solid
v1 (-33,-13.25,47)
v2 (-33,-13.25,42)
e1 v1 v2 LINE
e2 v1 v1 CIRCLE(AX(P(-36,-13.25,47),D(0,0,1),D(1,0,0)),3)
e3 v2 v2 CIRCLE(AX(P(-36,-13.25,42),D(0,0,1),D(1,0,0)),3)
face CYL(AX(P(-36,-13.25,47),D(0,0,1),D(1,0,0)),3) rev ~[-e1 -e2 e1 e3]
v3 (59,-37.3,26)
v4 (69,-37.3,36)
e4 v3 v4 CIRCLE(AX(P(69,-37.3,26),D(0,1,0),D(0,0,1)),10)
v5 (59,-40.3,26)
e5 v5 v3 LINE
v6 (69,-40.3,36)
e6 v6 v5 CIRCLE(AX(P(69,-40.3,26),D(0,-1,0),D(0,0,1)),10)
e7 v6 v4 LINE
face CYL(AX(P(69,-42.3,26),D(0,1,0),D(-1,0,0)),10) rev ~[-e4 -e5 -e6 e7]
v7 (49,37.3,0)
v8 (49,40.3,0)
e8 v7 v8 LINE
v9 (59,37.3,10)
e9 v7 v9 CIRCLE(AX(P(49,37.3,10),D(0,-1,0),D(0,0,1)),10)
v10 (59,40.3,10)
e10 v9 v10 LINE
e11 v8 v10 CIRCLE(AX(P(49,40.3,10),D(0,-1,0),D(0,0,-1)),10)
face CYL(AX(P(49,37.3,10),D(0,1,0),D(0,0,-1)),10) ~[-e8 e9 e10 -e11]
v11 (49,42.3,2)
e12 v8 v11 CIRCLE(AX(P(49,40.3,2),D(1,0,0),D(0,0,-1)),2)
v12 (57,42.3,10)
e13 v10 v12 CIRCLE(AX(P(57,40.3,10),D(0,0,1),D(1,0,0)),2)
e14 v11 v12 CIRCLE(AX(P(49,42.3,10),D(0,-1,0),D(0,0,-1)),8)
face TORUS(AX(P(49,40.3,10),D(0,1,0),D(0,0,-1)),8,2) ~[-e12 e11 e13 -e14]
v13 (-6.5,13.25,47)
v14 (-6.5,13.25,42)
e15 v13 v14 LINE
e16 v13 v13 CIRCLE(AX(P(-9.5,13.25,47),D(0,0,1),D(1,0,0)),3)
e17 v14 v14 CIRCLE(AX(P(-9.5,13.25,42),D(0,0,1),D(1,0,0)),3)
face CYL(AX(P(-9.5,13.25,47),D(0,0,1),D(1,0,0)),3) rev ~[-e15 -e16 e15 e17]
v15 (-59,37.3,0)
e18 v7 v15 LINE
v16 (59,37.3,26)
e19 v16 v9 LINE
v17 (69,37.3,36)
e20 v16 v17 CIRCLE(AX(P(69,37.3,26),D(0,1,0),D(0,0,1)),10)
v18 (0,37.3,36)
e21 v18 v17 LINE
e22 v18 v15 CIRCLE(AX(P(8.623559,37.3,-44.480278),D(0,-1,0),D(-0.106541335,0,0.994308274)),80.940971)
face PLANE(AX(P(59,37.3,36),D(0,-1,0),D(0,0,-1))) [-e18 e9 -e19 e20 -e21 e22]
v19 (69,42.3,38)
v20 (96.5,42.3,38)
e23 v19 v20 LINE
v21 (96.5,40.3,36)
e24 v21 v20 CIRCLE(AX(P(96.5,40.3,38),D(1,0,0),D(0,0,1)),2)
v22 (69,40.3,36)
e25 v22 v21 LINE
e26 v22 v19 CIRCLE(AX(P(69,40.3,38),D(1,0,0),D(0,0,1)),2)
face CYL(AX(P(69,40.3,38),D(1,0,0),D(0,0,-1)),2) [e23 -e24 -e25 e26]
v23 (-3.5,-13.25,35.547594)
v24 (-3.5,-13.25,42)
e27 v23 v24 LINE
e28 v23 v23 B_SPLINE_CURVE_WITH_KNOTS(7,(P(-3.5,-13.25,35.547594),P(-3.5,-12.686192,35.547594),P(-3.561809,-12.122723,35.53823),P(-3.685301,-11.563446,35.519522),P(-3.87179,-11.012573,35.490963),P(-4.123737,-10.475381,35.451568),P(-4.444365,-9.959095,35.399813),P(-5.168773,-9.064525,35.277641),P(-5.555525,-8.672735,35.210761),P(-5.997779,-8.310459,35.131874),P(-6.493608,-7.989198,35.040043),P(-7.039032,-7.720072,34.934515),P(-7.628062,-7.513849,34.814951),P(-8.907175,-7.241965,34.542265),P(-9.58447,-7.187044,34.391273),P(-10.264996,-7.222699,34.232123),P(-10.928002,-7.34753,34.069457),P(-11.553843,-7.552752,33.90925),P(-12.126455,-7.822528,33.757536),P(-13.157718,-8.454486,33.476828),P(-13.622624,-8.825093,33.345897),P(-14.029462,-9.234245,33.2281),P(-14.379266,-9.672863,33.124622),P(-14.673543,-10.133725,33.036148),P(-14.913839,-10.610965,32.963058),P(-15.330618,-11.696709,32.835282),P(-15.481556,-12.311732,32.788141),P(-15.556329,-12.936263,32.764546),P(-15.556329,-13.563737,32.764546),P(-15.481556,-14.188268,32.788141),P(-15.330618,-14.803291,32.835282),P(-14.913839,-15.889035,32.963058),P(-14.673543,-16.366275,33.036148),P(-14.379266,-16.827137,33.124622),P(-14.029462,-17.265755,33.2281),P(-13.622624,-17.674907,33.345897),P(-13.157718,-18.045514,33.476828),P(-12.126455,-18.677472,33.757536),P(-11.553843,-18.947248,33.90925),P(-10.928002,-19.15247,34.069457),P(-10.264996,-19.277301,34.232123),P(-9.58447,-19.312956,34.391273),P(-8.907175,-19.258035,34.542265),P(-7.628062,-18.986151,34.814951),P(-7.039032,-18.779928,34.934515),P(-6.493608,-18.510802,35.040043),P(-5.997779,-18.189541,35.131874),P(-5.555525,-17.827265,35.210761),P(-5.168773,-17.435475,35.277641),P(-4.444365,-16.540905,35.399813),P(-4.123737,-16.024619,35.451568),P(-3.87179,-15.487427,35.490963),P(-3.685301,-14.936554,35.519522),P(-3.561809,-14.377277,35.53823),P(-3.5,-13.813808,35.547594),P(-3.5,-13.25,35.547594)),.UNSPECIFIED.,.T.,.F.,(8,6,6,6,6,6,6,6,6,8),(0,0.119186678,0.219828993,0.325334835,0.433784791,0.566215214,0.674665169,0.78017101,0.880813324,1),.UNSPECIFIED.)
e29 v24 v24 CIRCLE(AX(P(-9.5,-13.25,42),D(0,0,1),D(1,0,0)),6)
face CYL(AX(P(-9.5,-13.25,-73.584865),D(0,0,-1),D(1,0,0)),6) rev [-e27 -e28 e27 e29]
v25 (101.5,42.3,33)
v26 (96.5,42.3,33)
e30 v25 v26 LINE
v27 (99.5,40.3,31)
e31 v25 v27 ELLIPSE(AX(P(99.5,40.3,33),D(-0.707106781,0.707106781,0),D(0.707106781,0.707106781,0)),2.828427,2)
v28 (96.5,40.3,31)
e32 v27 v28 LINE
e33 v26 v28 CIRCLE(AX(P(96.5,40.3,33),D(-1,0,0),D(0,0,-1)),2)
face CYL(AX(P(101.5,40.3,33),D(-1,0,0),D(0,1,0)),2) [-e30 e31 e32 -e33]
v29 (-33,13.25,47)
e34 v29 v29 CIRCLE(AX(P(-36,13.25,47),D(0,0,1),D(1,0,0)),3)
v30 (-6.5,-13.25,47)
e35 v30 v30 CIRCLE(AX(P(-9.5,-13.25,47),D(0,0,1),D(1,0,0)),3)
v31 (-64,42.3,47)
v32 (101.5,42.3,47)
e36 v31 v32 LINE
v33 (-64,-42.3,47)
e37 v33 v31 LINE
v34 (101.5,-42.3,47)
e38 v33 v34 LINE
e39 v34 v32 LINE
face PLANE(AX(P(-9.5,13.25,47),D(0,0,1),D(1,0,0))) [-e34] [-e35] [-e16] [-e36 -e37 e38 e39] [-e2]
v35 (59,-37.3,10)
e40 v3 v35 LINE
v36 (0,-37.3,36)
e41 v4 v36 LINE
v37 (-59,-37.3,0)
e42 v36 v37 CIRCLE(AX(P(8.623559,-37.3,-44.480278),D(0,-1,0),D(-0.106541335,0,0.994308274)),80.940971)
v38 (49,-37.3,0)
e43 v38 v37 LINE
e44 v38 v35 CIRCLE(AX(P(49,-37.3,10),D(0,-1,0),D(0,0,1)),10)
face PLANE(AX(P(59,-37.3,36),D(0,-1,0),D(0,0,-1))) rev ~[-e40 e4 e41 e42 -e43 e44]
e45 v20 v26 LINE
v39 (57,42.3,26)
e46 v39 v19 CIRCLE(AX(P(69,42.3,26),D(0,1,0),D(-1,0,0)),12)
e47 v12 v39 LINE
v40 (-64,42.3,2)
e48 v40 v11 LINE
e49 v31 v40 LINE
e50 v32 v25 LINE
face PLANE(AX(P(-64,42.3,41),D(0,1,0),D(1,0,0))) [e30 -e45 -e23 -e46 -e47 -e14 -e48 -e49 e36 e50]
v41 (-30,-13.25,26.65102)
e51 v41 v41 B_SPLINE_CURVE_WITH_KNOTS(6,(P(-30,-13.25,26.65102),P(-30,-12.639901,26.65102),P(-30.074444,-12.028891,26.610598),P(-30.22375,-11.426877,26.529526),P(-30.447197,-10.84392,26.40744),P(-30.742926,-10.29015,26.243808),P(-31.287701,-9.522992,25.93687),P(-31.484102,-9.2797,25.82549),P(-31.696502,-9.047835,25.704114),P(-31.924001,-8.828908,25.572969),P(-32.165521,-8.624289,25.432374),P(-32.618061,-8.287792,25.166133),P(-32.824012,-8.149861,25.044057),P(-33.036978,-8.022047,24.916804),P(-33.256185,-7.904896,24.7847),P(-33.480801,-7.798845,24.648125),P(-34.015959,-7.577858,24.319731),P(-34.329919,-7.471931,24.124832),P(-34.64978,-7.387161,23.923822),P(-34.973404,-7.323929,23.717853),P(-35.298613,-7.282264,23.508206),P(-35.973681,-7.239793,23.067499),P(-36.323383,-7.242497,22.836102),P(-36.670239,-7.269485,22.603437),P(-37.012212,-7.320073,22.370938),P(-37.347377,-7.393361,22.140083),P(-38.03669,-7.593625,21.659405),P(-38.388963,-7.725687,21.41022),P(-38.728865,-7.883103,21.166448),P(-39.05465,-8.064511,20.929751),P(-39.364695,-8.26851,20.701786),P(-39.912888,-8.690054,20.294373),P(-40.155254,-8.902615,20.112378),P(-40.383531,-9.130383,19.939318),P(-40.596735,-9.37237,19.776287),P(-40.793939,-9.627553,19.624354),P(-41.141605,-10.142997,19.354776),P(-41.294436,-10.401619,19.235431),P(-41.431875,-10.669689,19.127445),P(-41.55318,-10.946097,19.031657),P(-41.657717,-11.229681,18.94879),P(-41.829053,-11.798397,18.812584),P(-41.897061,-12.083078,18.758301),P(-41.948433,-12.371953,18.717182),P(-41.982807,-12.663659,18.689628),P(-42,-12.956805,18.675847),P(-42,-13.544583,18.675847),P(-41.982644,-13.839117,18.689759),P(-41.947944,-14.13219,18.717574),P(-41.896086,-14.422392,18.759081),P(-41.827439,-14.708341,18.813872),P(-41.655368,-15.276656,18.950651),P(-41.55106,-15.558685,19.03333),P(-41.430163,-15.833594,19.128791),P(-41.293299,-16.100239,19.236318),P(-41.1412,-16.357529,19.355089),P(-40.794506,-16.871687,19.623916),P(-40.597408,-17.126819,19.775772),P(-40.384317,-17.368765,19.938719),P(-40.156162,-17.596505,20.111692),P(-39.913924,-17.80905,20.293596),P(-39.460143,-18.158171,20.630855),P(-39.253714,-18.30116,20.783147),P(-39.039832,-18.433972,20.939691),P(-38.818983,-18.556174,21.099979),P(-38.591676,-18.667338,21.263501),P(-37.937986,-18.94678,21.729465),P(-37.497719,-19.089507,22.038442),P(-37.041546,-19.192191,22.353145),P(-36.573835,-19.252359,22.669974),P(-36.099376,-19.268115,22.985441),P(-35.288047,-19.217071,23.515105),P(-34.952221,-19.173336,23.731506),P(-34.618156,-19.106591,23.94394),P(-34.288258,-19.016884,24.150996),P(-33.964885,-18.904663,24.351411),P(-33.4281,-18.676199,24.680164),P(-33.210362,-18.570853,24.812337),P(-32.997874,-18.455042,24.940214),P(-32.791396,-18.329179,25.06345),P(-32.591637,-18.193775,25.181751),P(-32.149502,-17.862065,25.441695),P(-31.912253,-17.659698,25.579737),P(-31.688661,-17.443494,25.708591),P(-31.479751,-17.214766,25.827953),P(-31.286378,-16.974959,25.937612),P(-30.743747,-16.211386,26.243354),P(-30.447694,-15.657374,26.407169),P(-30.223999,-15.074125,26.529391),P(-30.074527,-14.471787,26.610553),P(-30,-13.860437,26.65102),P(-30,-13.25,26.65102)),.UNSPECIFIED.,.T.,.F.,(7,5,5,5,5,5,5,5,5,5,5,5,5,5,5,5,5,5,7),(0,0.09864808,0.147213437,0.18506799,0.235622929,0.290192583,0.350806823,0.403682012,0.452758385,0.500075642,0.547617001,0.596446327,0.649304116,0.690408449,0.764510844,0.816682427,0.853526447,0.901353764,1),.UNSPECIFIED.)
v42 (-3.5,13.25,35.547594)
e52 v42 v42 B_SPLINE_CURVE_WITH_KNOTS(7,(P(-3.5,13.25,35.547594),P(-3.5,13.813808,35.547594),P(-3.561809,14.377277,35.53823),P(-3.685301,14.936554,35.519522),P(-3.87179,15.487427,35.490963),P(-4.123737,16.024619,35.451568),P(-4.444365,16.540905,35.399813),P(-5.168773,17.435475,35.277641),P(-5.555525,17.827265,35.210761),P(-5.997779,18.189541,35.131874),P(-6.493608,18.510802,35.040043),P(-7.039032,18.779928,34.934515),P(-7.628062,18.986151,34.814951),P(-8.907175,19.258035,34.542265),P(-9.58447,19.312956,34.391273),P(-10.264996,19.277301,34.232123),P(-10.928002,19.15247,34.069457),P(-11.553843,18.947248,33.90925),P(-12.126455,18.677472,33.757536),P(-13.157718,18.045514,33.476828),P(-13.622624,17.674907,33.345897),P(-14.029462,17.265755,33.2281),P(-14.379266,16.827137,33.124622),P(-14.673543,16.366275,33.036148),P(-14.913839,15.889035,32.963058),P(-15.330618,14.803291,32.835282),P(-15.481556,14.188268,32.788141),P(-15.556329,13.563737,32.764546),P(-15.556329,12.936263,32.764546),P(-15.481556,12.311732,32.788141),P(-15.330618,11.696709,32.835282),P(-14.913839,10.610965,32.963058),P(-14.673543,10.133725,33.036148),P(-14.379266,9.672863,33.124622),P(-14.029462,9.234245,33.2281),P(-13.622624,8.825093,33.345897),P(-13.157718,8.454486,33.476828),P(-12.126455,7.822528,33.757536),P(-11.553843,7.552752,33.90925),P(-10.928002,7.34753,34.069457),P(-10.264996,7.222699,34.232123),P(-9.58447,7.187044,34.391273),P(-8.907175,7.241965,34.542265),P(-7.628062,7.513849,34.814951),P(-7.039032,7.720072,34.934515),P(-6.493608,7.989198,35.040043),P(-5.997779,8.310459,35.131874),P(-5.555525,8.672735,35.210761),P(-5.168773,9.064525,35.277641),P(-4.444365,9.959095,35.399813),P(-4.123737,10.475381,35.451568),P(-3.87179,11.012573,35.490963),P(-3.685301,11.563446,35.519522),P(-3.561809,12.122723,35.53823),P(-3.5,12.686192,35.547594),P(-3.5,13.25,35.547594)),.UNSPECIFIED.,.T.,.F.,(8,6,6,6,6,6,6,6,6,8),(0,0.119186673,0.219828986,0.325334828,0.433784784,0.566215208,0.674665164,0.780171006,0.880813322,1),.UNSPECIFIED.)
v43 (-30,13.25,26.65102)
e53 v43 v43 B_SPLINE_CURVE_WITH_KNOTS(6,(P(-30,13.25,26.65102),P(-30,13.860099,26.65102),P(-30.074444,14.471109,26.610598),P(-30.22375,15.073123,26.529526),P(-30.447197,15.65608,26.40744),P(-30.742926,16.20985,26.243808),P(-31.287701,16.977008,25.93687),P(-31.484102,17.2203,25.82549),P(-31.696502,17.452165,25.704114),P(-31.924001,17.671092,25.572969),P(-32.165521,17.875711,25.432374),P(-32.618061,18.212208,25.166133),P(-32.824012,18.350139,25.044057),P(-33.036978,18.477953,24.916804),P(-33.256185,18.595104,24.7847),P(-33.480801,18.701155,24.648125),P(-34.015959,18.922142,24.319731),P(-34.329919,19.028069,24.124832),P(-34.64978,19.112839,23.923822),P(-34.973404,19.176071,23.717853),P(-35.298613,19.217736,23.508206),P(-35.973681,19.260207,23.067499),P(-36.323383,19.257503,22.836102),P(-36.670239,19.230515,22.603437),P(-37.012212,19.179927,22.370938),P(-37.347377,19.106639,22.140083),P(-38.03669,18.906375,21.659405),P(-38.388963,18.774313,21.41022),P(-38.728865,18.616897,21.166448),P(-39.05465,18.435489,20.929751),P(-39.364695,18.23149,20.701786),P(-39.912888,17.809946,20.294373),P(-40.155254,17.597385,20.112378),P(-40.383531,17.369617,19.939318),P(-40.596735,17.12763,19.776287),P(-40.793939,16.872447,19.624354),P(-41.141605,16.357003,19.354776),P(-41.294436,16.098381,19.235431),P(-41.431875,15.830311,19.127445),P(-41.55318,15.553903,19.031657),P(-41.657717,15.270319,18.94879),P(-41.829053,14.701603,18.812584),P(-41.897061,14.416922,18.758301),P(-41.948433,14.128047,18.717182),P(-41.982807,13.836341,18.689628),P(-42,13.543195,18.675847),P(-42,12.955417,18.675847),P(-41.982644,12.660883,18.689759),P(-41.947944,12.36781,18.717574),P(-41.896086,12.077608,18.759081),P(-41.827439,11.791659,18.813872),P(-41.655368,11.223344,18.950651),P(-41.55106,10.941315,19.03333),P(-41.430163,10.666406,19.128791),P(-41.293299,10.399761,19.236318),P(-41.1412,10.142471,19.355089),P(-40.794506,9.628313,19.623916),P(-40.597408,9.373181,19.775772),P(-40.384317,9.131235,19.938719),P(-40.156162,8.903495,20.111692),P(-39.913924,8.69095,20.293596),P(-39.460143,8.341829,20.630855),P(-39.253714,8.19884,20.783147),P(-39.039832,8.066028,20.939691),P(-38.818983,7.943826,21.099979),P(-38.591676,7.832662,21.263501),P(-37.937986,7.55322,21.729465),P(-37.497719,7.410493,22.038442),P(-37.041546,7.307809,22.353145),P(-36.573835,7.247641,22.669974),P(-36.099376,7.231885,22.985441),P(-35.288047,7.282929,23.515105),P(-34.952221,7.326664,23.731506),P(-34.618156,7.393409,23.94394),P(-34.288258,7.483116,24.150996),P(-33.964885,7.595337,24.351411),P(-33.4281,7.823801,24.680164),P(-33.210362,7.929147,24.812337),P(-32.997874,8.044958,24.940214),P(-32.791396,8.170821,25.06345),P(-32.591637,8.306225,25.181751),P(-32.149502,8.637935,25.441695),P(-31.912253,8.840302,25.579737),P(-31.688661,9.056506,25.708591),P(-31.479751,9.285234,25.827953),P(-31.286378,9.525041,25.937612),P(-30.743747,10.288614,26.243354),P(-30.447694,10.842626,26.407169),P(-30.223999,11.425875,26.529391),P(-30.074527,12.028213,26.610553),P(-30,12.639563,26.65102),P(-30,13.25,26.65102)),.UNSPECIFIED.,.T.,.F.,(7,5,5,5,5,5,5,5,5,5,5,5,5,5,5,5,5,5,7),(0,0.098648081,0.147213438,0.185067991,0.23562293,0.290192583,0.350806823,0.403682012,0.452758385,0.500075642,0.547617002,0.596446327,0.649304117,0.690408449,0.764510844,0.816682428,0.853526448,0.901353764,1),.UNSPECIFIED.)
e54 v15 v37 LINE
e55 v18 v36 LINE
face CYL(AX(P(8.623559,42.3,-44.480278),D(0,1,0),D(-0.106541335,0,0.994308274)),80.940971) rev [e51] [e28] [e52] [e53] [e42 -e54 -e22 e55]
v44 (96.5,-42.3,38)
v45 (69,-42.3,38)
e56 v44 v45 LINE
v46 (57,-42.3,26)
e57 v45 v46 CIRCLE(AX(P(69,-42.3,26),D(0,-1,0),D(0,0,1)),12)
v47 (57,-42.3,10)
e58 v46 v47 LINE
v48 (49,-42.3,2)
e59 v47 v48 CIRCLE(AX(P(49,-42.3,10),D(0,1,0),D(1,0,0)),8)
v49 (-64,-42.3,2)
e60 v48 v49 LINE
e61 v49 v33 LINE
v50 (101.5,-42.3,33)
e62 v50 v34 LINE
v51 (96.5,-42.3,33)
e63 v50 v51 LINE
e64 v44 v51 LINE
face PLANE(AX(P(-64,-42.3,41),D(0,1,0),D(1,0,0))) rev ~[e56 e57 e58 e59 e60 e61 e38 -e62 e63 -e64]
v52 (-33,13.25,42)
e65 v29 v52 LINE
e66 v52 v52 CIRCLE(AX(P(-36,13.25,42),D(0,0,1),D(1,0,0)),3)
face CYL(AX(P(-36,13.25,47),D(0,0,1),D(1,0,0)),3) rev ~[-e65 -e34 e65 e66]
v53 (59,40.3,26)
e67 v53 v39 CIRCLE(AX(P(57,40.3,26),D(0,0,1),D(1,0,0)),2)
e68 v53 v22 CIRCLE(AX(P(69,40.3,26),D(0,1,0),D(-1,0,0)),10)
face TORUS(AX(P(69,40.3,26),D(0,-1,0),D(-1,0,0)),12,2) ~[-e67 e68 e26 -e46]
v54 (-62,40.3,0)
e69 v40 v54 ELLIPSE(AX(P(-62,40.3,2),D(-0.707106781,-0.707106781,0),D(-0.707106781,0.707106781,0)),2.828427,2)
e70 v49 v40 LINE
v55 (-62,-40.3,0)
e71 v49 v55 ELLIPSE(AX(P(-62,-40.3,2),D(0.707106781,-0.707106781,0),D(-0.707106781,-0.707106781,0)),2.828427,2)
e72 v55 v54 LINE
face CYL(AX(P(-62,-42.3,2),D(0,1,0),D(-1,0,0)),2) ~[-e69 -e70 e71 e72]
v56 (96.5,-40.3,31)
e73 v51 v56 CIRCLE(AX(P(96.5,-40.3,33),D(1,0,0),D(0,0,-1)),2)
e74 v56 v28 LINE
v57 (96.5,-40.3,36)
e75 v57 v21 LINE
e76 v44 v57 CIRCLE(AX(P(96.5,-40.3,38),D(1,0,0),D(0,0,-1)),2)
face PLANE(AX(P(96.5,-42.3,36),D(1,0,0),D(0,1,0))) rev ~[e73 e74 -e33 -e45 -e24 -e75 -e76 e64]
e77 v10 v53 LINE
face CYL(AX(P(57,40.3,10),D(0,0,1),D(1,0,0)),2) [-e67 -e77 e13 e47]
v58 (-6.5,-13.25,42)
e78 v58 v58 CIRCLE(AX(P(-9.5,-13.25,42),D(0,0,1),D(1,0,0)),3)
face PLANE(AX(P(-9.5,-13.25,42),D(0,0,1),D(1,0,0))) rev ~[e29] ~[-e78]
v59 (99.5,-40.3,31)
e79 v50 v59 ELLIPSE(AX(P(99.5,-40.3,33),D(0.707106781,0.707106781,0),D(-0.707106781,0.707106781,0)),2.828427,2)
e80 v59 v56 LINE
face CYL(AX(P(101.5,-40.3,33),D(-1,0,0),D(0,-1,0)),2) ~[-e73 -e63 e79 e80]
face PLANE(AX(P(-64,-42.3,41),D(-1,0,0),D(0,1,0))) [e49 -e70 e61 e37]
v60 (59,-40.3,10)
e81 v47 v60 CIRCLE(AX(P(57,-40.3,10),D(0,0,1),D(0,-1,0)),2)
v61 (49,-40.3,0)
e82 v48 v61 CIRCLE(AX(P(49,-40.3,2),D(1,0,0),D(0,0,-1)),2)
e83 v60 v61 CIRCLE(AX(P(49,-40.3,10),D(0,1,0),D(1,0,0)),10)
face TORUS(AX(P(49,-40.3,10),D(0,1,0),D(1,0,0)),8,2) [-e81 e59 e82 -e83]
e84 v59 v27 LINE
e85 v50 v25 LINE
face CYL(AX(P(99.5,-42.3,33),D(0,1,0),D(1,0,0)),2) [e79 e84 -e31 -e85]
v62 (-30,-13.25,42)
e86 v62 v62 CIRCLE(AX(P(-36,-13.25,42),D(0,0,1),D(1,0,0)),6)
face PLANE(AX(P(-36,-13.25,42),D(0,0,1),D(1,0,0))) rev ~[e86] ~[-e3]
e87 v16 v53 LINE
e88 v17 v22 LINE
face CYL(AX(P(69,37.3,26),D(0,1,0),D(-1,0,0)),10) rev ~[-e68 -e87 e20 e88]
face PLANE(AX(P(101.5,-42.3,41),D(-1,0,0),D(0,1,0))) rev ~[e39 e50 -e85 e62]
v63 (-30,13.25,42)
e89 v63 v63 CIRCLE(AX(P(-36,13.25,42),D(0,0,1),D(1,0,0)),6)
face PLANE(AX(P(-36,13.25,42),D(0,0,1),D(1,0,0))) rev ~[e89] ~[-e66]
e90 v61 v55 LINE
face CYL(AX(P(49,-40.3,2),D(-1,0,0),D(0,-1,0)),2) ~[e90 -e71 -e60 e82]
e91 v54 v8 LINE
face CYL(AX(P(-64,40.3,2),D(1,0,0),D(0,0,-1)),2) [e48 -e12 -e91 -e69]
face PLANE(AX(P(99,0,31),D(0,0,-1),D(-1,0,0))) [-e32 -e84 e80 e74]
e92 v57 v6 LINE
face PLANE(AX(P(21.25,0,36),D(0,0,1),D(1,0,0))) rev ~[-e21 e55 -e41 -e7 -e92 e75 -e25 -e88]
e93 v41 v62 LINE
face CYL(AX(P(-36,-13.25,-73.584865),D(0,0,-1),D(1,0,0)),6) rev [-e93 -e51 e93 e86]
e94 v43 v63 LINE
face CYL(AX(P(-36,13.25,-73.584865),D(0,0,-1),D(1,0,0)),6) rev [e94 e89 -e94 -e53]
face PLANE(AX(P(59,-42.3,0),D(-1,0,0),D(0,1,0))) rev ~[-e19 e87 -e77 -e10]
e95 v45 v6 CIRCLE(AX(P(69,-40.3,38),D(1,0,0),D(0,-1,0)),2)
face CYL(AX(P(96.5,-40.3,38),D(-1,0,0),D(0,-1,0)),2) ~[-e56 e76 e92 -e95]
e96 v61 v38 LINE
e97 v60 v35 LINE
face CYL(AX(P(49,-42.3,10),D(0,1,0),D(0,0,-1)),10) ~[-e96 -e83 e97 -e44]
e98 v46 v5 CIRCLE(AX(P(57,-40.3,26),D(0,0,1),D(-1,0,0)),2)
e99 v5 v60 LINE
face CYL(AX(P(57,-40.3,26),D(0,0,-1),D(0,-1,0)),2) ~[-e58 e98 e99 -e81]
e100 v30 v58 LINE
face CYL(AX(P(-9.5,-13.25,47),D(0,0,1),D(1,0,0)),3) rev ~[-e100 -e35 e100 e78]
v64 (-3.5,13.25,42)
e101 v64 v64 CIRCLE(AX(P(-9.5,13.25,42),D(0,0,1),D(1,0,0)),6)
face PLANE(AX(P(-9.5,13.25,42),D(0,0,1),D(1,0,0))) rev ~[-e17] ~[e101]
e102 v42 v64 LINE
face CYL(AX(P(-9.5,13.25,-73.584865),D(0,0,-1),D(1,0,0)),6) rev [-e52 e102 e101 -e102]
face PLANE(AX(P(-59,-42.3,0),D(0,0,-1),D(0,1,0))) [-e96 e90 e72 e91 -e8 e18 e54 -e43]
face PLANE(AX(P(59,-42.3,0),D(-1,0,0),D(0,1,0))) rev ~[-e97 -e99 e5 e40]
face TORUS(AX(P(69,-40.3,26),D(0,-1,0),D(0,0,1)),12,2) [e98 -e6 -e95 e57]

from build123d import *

# Parameters (mm, degrees)
CROQUIS1_W                 = 118
CROQUIS1_H                 = 84.6
SALIENTE_EXTRUIR1_DEPTH    = 36
CROQUIS2_W                 = 36
CROQUIS2_H                 = 74.6
CORTAR_EXTRUIR1_DEPTH      = 120
CORTAR_EXTRUIR3_DEPTH      = 110.243581047
SALIENTE_EXTRUIR2_DEPTH    = 84.6
CROQUIS8_W                 = 160.5
CROQUIS8_H                 = 84.6
SALIENTE_EXTRUIR3_DEPTH    = 5
CROQUIS9_W                 = 41
CROQUIS9_H                 = 84.6
SALIENTE_EXTRUIR4_DEPTH    = 5
CROQUIS10_W                = 5
CROQUIS10_H                = 84.6
SALIENTE_EXTRUIR5_DEPTH    = 5
REDONDEO2_R                = 10
REDONDEO3_R                = 2
REDONDEO4_R                = 2
CROQUIS18_W                = 165.5
CROQUIS18_H                = 84.6
SALIENTE_EXTRUIR9_DEPTH    = 6
CORTAR_EXTRUIR6_DEPTH      = 120.584865263
CORTAR_EXTRUIR6_DEPTH_BACK = 120.584865263
CROQUIS11_R                = 6
CROQUIS16_R                = 6
SALIENTE_EXTRUIR8_DEPTH    = 5
CROQUIS17_R                = 3
CORTAR_EXTRUIR7_DEPTH      = 120.584865302


with BuildPart() as part:
    # Croquis1 → Saliente-Extruir1 (new body)
    with BuildSketch(Plane.XY):
        Rectangle(CROQUIS1_W, CROQUIS1_H)
    extrude(amount=SALIENTE_EXTRUIR1_DEPTH)

    # Croquis2 → Cortar-Extruir1 (cut)
    with BuildSketch(Plane(origin=(59, 0, 0), x_dir=(0, 0, -1), z_dir=(1, 0, 0))):
        with Locations((-18, 0)):
            Rectangle(CROQUIS2_W, CROQUIS2_H)
    extrude(amount=-CORTAR_EXTRUIR1_DEPTH, mode=Mode.SUBTRACT)


with BuildPart() as cortar_extruir1_piece_1:
    # of the separate pieces the step leaves, piece 1, a body of its own (cortar_extruir1_pieces)
    add(part.part.solids().sort_by_distance((-59, -42.3, 0))[0])


with BuildPart() as cortar_extruir1_piece_2:
    # of the separate pieces the step leaves, piece 2, a body of its own (cortar_extruir1_pieces)
    add(part.part.solids().sort_by_distance((-59, 42.3, 0))[0])


with BuildPart() as cortar_extruir3_tool:
    # Croquis6 → Cortar-Extruir3 (new, through all)
    with BuildSketch(Plane.XZ.offset(42.3)):
        with BuildLine():
            Line((-59, 0), (-59, 36))
            Line((-59, 36), (0, 36))
            ThreePointArc((0, 36), (-33.535731191, 24.614115008), (-59, 0))
        make_face()
    extrude(amount=-CORTAR_EXTRUIR3_DEPTH)


with BuildPart() as cortar_extruir1_piece_1_1:
    add(cortar_extruir1_piece_1.part)

    # Cortar-Extruir3: cut by cortar_extruir3_tool
    add(cortar_extruir3_tool.part, mode=Mode.SUBTRACT)



with BuildPart() as cortar_extruir1_piece_2_1:
    add(cortar_extruir1_piece_2.part)

    # Cortar-Extruir3: cut by cortar_extruir3_tool
    add(cortar_extruir3_tool.part, mode=Mode.SUBTRACT)


with BuildPart() as body_3:
    # Croquis7 → Saliente-Extruir2 (new, through all)
    with BuildSketch(Plane.XZ.offset(-42.3)):
        with BuildLine():
            Line((-59, 0), (-59, 36))
            Line((-59, 36), (0, 36))
            ThreePointArc((0, 36), (-33.535731191, 24.614115008), (-59, 0))
        make_face()
    extrude(amount=SALIENTE_EXTRUIR2_DEPTH)


with BuildPart() as cortar_extruir1_piece_1_2:
    add(cortar_extruir1_piece_1_1.part)

    add(cortar_extruir1_piece_2_1.part)  # Saliente-Extruir3 merges Cortar-Extruir1 piece 2

    add(body_3.part)  # Saliente-Extruir3 merges body 3
    # Croquis8 → Saliente-Extruir3 (add)
    with BuildSketch(Plane.XY.offset(36)):
        with Locations((21.25, 0)):
            Rectangle(CROQUIS8_W, CROQUIS8_H)
    extrude(amount=SALIENTE_EXTRUIR3_DEPTH)

    # Croquis9 → Saliente-Extruir4 (add)
    with BuildSketch(Plane.ZY.offset(59)):
        with Locations((20.5, 0)):
            Rectangle(CROQUIS9_W, CROQUIS9_H)
    extrude(amount=SALIENTE_EXTRUIR4_DEPTH)

    # Croquis10 → Saliente-Extruir5 (add)
    with BuildSketch(Plane(origin=(0, 0, 36), x_dir=(-1, 0, 0), z_dir=(0, 0, -1))):
        with Locations((-99, 0)):
            Rectangle(CROQUIS10_W, CROQUIS10_H)
    extrude(amount=SALIENTE_EXTRUIR5_DEPTH)

    # Redondeo2
    redondeo2_edges = [cortar_extruir1_piece_1_2.edges().sort_by_distance(p)[0] for p in [
        (59, -39.8, 36),
        (59, -39.8, 0),
        (59, 39.8, 36),
        (59, 39.8, 0),
    ]]
    fillet(redondeo2_edges, radius=REDONDEO2_R)

    # Redondeo3
    redondeo3_edges = [cortar_extruir1_piece_1_2.edges().sort_by_distance(p)[0] for p in [
        (101.5, 0, 31),
        (99, -42.3, 31),
        (99, 42.3, 31),
    ]]
    fillet(redondeo3_edges, radius=REDONDEO3_R)

    # Redondeo4
    redondeo4_edges = [cortar_extruir1_piece_1_2.edges().sort_by_distance(p)[0] for p in [
        (-7.5, -42.3, 0),
        (-64, 0, 0),
        (82.75, 42.3, 36),
        (82.75, -42.3, 36),
        (59, -42.3, 18),
        (-7.5, 42.3, 0),
        (56.071067812, -42.3, 2.928932188),
        (59, 42.3, 18),
        (56.071067812, 42.3, 2.928932188),
        (61.928932188, -42.3, 33.071067812),
        (61.928932188, 42.3, 33.071067812),
    ]]
    fillet(redondeo4_edges, radius=REDONDEO4_R)

    # Croquis18 → Saliente-Extruir9 (add)
    with BuildSketch(Plane.XY.offset(41)):
        with Locations((18.75, 0)):
            Rectangle(CROQUIS18_W, CROQUIS18_H)
    extrude(amount=SALIENTE_EXTRUIR9_DEPTH)

    # Croquis11 → Cortar-Extruir6 (cut, two sides: drawn at the far end of the back side and taken through both)
    with BuildSketch(Plane.XY.offset(47).offset(-CORTAR_EXTRUIR6_DEPTH_BACK)):
        with Locations((-36, 13.25)):
            Circle(CROQUIS11_R)
        with Locations((-9.5, 13.25)):
            Circle(CROQUIS11_R)
        with Locations((-9.5, -13.25)):
            Circle(CROQUIS11_R)
        with Locations((-36, -13.25)):
            Circle(CROQUIS11_R)
    extrude(amount=CORTAR_EXTRUIR6_DEPTH + CORTAR_EXTRUIR6_DEPTH_BACK, mode=Mode.SUBTRACT)

    # Croquis16 → Saliente-Extruir8 (add)
    with BuildSketch(Plane.XY.offset(47)):
        with Locations((-9.5, 13.25)):
            Circle(CROQUIS16_R)
        with Locations((-36, -13.25)):
            Circle(CROQUIS16_R)
        with Locations((-9.5, -13.25)):
            Circle(CROQUIS16_R)
        with Locations((-36, 13.25)):
            Circle(CROQUIS16_R)
    extrude(amount=-SALIENTE_EXTRUIR8_DEPTH)

    # Croquis17 → Cortar-Extruir7 (cut, through all)
    with BuildSketch(Plane.XY.offset(47)):
        with Locations((-9.5, 13.25)):
            Circle(CROQUIS17_R)
        with Locations((-36, 13.25)):
            Circle(CROQUIS17_R)
        with Locations((-9.5, -13.25)):
            Circle(CROQUIS17_R)
        with Locations((-36, -13.25)):
            Circle(CROQUIS17_R)
    extrude(amount=-CORTAR_EXTRUIR7_DEPTH, mode=Mode.SUBTRACT)


solid = cortar_extruir1_piece_1_2.part
